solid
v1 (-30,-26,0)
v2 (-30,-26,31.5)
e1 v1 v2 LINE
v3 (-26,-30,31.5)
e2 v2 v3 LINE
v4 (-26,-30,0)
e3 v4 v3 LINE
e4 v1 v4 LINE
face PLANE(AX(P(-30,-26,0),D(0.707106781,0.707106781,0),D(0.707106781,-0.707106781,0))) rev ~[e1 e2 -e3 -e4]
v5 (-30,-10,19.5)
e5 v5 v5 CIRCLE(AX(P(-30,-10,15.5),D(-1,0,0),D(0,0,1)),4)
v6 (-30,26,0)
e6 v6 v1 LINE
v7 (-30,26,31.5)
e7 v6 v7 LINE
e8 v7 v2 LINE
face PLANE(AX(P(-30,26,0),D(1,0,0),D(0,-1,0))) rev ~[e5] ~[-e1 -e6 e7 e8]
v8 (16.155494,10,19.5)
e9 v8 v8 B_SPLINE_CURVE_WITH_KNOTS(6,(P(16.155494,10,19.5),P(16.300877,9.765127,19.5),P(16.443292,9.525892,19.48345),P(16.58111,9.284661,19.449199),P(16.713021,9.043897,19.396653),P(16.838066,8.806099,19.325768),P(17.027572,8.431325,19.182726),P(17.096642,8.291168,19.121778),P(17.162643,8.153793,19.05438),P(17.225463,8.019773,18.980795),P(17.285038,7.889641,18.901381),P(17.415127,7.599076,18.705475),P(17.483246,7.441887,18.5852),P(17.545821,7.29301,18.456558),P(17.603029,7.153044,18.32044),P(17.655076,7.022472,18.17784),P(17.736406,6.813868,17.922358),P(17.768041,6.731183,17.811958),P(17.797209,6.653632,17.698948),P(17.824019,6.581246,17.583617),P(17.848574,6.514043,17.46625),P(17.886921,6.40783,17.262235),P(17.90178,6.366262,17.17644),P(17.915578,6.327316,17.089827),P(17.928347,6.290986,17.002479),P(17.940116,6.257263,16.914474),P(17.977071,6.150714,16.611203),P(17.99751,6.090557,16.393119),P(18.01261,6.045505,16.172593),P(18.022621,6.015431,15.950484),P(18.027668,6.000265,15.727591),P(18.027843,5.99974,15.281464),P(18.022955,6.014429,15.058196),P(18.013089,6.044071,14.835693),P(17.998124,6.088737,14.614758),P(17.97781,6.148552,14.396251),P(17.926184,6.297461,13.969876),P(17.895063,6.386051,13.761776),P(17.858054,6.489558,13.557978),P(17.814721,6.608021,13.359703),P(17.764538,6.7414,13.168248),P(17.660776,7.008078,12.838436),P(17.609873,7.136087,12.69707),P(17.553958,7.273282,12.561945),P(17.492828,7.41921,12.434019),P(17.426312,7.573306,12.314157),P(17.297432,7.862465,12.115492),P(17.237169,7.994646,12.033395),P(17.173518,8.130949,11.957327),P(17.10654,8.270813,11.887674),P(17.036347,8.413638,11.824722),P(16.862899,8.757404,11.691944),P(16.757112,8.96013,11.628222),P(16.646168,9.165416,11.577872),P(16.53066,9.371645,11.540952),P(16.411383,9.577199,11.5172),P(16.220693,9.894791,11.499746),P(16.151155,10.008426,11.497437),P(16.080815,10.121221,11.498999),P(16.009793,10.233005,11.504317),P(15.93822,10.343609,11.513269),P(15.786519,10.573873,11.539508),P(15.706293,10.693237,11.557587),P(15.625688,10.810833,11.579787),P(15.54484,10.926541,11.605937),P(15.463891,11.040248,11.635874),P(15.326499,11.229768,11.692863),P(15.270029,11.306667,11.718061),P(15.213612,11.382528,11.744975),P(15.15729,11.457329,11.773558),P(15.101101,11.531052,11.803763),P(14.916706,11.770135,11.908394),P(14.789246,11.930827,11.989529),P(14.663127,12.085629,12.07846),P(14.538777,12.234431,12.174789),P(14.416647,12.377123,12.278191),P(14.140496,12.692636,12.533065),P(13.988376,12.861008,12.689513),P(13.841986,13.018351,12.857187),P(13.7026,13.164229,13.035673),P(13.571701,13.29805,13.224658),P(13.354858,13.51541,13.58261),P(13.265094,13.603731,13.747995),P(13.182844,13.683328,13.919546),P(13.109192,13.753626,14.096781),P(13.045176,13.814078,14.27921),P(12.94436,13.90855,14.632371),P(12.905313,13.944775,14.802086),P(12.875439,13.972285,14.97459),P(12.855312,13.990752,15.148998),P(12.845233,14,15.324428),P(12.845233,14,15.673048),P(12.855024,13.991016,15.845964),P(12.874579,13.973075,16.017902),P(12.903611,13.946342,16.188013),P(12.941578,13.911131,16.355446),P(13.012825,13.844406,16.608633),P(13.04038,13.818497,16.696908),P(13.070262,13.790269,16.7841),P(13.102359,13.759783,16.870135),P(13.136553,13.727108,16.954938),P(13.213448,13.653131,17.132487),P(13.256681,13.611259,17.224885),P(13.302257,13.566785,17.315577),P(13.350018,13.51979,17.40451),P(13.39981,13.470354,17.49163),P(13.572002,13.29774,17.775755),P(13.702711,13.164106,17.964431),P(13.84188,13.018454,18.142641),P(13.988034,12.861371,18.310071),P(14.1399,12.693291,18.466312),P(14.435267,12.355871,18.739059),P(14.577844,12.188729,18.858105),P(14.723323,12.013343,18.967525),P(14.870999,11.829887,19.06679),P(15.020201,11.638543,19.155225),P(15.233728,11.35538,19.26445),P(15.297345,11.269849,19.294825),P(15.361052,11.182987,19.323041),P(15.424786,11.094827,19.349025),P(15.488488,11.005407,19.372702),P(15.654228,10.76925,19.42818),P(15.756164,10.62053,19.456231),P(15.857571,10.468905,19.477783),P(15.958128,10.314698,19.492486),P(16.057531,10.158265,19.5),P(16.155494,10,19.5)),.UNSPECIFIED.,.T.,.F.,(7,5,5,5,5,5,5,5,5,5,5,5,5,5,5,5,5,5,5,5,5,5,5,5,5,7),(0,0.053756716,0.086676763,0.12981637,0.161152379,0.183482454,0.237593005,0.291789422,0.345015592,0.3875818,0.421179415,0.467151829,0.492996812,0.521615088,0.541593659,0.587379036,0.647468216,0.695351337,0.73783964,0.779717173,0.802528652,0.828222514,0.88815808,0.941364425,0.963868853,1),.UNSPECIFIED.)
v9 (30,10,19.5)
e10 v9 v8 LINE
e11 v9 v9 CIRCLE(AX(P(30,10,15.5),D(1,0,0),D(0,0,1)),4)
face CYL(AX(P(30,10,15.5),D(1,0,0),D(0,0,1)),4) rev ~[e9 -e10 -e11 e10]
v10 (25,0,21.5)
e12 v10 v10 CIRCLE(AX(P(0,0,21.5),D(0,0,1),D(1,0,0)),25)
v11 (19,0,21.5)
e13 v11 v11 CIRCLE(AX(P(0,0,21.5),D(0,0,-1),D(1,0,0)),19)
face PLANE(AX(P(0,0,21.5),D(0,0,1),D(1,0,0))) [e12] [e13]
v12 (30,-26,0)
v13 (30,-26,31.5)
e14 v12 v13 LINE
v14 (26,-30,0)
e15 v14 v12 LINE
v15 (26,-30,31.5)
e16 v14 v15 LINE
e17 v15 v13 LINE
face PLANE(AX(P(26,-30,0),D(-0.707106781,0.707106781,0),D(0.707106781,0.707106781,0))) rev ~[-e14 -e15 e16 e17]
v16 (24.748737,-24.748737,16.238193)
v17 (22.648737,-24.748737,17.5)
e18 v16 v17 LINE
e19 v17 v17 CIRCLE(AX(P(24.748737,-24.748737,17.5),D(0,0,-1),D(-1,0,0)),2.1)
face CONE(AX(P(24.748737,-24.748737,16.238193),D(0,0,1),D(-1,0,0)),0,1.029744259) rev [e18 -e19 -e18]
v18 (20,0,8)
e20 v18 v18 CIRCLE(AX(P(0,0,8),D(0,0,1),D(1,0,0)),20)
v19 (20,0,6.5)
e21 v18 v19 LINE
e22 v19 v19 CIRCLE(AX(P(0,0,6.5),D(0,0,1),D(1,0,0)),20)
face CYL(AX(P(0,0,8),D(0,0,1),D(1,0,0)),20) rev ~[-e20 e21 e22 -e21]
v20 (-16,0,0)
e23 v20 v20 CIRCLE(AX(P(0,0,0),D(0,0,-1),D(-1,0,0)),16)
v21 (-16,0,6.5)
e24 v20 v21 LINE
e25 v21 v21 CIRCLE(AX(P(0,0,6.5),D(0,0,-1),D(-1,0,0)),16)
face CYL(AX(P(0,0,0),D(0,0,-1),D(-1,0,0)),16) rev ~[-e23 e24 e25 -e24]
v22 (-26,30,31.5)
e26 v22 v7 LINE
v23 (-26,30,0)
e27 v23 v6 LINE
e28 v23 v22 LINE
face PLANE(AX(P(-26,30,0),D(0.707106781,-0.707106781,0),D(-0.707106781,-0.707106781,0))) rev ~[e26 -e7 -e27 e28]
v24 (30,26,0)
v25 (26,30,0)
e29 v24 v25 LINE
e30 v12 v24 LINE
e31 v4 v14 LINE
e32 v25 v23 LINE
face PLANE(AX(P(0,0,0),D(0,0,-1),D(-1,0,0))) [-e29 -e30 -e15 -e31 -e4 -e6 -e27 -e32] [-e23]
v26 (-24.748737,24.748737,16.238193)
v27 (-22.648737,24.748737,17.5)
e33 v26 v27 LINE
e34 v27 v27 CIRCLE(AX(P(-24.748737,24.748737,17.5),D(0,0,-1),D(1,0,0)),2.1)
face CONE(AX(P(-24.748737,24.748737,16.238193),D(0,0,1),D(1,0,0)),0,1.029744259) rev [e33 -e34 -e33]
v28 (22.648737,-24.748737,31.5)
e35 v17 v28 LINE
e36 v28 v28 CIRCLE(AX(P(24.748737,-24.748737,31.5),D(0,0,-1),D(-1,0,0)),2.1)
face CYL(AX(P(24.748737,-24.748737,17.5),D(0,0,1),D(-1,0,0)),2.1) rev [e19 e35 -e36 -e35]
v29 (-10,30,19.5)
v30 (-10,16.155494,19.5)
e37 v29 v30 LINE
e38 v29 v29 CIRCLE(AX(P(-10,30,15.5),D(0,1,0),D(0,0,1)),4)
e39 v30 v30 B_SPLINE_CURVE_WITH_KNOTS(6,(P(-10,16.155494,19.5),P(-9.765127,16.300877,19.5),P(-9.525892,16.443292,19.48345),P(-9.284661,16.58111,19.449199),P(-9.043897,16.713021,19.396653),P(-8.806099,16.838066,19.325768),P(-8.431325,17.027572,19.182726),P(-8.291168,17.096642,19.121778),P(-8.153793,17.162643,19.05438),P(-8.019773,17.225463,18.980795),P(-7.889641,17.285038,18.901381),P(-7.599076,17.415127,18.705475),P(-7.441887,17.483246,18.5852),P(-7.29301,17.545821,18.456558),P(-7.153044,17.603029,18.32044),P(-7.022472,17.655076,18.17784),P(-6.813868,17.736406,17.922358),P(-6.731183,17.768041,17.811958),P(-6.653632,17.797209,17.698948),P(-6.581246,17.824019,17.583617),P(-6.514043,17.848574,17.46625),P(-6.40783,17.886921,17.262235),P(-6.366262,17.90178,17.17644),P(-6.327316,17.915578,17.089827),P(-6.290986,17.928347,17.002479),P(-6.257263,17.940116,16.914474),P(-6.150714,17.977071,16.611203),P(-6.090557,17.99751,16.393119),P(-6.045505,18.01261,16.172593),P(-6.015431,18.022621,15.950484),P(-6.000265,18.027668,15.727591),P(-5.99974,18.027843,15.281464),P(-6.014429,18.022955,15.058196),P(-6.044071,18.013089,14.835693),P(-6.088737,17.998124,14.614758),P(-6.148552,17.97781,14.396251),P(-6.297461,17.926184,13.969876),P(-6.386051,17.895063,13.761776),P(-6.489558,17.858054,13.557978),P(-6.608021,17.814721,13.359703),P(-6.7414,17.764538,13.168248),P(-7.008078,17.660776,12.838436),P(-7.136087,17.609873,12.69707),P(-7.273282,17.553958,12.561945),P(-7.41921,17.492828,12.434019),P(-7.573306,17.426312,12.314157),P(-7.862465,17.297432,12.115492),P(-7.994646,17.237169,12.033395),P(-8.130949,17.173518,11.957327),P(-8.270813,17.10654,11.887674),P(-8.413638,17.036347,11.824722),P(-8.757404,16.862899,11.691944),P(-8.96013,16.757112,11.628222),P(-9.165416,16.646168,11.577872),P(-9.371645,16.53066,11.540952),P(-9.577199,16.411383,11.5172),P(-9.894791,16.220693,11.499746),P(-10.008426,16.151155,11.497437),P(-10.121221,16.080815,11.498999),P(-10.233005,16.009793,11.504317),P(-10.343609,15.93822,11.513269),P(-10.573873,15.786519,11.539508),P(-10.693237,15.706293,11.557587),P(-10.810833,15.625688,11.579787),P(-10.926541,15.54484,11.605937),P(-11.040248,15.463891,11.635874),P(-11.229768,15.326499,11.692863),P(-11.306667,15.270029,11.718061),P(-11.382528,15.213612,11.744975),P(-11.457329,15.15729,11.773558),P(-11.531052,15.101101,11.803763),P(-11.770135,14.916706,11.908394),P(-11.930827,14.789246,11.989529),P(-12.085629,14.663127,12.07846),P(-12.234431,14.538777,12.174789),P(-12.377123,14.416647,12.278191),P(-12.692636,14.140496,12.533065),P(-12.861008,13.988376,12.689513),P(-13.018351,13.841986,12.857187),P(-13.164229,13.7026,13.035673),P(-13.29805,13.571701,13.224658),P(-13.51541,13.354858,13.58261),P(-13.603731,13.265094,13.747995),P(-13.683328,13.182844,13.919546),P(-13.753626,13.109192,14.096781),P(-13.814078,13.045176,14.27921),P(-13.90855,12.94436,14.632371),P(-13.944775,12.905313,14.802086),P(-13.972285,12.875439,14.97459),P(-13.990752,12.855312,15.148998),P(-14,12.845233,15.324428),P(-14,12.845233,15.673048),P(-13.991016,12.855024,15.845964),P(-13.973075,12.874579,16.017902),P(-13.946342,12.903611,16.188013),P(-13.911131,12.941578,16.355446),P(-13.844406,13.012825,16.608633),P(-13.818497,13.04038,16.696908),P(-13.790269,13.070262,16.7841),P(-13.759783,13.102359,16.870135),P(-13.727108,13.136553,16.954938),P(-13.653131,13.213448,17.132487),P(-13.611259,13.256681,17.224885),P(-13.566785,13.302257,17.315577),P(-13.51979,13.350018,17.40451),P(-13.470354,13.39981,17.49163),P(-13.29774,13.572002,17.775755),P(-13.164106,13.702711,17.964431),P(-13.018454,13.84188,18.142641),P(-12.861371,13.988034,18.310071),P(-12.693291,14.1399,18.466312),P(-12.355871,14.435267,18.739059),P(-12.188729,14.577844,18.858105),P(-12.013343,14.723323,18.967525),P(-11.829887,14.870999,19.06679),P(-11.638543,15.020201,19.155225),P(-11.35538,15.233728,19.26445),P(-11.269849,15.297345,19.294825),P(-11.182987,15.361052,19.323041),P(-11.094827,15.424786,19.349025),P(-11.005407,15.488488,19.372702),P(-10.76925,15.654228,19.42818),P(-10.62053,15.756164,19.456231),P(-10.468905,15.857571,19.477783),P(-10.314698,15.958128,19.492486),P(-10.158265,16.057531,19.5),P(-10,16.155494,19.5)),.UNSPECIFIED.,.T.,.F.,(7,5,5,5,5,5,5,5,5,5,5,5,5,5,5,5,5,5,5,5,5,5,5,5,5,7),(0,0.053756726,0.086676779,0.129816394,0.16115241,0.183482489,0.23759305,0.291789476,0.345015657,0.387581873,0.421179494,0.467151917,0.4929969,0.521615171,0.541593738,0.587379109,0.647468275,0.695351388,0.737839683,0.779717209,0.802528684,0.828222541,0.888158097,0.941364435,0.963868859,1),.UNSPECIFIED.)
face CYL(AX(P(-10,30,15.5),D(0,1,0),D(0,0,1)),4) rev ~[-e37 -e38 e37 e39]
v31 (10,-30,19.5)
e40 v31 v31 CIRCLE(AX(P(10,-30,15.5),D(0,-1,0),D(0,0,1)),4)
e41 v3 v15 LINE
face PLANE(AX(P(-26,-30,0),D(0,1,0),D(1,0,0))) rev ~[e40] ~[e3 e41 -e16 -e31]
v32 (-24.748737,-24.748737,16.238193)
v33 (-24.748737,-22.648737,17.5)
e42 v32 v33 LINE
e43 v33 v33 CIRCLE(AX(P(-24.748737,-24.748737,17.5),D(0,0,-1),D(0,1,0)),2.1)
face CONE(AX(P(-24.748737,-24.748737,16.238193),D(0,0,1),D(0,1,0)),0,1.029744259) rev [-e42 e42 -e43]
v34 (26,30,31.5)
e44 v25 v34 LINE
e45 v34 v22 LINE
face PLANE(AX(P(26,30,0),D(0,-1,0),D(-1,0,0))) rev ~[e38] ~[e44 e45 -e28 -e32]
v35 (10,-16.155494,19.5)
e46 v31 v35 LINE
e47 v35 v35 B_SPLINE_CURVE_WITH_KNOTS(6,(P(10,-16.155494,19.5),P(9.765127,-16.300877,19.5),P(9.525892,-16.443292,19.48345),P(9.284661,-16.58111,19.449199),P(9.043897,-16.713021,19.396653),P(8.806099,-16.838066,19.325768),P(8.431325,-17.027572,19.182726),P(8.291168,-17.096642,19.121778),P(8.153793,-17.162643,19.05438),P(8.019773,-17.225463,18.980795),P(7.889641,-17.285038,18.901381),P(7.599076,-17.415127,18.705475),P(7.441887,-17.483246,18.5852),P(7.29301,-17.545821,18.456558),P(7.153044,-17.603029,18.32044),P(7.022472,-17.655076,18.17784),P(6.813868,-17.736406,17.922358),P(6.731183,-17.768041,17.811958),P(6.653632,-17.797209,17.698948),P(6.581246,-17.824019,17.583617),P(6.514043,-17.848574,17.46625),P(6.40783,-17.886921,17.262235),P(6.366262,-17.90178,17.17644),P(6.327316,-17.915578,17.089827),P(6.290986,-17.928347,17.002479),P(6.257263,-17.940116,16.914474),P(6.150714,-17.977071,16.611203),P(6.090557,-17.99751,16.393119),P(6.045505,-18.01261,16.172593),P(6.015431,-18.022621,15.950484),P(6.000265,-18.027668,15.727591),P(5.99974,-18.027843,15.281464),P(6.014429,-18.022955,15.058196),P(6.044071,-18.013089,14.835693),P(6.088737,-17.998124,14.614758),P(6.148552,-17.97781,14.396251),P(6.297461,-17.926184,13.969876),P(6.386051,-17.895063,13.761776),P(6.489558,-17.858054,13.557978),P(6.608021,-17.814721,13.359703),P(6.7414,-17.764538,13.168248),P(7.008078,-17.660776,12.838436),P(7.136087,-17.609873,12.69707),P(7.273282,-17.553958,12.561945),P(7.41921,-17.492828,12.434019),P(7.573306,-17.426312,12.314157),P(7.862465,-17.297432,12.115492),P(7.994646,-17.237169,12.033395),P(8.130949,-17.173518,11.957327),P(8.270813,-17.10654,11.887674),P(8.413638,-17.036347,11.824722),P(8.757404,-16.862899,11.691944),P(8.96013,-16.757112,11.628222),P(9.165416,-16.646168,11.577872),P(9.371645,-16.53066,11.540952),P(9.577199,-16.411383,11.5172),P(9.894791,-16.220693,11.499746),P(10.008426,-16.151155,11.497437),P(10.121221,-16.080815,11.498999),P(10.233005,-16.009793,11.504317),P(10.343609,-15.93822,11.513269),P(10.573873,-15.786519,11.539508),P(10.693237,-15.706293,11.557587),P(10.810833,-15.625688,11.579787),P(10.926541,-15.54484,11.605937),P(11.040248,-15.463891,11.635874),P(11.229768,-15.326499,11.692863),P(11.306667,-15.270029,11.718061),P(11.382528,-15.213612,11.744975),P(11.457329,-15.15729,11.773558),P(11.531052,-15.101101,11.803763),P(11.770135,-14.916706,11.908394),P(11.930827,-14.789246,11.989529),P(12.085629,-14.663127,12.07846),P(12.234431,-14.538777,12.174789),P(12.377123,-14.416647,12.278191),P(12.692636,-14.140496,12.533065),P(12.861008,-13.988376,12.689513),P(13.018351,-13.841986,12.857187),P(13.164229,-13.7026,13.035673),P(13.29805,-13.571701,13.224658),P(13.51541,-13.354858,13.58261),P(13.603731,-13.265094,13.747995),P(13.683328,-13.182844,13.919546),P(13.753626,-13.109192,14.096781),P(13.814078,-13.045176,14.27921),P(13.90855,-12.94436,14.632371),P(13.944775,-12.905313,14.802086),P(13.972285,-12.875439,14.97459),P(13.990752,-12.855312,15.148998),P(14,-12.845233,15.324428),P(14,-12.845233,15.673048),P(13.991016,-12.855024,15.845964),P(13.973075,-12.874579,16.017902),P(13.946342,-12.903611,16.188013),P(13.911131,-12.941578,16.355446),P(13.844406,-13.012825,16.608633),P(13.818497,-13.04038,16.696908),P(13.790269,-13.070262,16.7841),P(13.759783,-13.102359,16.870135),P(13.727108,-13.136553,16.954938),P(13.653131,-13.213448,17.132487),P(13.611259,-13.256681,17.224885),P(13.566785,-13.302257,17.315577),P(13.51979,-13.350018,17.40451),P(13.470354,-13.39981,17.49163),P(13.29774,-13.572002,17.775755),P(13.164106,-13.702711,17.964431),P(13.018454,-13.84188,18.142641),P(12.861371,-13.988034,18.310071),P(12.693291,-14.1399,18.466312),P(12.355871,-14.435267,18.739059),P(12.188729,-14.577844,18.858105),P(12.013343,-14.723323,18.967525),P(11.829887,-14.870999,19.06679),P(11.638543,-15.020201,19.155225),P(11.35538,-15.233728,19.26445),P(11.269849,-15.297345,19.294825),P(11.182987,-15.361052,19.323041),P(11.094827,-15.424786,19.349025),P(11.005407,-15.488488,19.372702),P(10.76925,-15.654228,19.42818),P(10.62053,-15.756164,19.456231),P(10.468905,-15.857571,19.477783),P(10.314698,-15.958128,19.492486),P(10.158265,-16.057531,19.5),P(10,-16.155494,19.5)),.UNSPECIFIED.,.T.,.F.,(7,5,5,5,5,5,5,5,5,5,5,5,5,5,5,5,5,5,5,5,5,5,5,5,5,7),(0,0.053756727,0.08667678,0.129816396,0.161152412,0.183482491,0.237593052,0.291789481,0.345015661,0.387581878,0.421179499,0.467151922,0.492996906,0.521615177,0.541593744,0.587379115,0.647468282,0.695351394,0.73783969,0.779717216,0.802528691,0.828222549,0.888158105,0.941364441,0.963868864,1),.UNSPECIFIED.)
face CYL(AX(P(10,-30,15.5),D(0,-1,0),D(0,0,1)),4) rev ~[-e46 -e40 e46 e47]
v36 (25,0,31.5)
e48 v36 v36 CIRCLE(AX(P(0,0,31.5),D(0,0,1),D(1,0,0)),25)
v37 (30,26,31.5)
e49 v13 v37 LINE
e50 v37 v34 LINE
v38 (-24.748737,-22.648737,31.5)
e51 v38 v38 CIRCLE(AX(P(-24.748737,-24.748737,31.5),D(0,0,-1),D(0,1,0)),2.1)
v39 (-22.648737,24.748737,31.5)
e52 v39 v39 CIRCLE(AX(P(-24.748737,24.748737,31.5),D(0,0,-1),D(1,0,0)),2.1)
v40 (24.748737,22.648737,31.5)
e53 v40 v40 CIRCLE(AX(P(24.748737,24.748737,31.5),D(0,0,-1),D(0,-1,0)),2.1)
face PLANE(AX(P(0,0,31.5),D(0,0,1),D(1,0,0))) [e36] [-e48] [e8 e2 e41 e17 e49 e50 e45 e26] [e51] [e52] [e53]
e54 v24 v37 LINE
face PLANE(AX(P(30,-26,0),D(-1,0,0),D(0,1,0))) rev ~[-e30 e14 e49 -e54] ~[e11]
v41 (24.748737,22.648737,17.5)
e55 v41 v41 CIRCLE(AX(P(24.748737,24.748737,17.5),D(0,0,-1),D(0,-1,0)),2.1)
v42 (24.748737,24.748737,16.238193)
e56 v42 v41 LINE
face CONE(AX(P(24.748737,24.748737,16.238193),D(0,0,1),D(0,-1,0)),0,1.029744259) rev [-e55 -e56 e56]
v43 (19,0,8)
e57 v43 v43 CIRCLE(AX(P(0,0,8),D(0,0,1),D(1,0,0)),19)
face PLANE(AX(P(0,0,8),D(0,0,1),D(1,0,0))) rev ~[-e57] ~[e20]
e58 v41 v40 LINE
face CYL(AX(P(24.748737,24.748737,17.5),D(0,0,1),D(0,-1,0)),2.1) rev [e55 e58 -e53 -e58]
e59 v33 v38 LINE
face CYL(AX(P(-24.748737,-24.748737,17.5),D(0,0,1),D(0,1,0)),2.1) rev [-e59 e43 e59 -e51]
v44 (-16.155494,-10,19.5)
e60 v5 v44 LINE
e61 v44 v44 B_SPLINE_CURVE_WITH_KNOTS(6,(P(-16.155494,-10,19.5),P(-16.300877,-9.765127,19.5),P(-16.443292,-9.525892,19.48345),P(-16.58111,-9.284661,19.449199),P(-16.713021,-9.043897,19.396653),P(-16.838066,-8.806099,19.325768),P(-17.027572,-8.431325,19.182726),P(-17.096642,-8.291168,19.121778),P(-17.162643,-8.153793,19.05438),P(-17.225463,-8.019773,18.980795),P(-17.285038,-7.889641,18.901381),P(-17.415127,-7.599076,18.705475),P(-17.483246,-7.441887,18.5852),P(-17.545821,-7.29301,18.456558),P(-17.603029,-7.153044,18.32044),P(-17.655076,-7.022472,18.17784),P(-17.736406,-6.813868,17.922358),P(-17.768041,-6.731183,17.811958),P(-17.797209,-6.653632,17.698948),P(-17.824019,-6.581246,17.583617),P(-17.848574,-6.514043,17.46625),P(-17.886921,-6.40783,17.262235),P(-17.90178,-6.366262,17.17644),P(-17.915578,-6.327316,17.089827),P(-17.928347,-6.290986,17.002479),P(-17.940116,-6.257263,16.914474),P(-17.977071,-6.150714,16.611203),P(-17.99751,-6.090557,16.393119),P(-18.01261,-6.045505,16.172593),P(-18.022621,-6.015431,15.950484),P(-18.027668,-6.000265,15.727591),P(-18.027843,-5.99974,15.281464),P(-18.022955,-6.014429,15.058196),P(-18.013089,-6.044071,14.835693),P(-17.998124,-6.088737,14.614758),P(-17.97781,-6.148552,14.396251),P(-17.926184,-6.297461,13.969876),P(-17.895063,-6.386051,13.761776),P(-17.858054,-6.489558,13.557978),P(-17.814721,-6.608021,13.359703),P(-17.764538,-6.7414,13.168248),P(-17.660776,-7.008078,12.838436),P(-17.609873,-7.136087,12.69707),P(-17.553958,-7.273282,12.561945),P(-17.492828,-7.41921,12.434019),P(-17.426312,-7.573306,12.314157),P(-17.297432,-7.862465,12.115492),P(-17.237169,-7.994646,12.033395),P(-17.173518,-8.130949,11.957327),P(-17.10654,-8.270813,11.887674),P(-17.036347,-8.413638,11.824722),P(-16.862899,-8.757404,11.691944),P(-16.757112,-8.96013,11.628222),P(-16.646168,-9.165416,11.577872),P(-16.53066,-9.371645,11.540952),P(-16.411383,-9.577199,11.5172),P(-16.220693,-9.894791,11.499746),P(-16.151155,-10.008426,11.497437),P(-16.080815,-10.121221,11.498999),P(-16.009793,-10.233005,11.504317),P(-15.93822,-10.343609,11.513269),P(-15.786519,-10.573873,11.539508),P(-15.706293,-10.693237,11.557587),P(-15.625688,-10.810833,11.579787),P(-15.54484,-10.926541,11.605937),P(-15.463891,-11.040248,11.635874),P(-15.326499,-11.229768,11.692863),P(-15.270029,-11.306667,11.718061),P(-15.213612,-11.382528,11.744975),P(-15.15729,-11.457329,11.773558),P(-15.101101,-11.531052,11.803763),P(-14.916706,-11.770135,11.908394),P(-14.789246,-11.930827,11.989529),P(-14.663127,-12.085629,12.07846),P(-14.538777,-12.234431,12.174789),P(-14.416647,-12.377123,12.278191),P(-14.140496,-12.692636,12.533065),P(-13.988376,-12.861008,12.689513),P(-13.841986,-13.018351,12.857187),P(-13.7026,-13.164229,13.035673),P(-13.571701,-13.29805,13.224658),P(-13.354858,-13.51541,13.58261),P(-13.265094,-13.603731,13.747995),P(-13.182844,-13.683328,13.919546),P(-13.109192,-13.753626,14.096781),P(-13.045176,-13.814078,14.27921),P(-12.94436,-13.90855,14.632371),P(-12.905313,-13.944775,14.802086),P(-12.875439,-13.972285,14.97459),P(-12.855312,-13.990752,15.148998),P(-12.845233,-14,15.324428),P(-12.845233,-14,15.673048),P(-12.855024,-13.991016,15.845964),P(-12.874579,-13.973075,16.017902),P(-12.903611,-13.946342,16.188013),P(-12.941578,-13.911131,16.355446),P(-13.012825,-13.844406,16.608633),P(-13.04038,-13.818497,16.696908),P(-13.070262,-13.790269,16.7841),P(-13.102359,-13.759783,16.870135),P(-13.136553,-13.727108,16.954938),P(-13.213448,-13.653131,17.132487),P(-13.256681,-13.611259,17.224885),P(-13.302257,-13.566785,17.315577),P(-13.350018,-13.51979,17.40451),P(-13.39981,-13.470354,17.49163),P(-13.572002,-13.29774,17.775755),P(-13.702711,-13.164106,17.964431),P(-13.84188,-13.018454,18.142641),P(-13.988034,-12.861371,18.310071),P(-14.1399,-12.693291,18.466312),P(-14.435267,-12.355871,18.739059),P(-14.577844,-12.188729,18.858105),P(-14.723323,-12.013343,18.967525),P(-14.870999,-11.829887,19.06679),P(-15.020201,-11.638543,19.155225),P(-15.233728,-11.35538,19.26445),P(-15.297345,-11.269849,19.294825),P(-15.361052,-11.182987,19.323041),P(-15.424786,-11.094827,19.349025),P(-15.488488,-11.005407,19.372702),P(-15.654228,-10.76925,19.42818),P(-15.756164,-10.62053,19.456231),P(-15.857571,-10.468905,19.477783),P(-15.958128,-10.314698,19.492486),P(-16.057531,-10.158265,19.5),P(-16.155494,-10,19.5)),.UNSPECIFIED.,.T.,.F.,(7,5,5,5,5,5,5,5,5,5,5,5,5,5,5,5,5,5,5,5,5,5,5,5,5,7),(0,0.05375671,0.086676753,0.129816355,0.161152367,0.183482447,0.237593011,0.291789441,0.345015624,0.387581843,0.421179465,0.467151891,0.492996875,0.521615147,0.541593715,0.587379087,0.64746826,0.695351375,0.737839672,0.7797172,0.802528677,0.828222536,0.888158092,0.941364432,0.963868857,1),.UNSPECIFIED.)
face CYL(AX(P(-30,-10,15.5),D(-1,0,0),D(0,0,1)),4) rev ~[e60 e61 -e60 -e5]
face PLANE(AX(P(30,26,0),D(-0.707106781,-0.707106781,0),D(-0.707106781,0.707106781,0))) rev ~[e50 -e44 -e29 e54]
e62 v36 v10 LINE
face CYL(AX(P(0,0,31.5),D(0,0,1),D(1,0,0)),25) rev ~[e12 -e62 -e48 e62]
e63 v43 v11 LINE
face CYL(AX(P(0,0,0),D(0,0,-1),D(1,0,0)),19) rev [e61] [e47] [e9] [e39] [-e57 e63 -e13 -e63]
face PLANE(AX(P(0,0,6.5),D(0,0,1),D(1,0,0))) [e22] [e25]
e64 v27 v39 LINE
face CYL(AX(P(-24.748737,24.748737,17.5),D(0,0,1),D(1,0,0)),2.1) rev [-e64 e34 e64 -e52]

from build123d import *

# Parameters (mm, degrees)
SKETCH_1_R               = 19
EXTRUDE_1_DEPTH          = 31.5
SKETCH_2_R               = 25
CUT_EXTRUDE_1_DEPTH      = 10
PATTERN_CIRCULAR_1_COUNT = 4
SKETCH_6_R               = 19
SKETCH_6_R_2             = 16
EXTRUDE_2_DEPTH          = 8
SKETCH_7_R               = 20
CUT_EXTRUDE_2_DEPTH      = 1.5
SKETCH_9_R               = 4
CUT_EXTRUDE_3_DEPTH      = 20
PATTERN_CIRCULAR_2_COUNT = 4


with BuildPart() as part:
    # 草图1 → 凸台-拉伸1 (new body)
    with BuildSketch(Plane.XY):
        Polygon((30, 26), (26, 30), (-26, 30), (-30, 26), (-30, -26), (-26, -30), (26, -30), (30, -26), align=None)
        Circle(SKETCH_1_R, mode=Mode.SUBTRACT)
    extrude(amount=EXTRUDE_1_DEPTH)

    # 草图2 → 切除-拉伸1 (cut)
    with BuildSketch(Plane.XY.offset(31.5)):
        Circle(SKETCH_2_R)
    extrude(amount=-CUT_EXTRUDE_1_DEPTH, mode=Mode.SUBTRACT)

    # 草图4 → M5 螺纹孔1 (revolve, cut)
    with BuildSketch(Plane(origin=(24.748737342, 24.748737342, 31.5), x_dir=(0, -1, 0), z_dir=(1, 0, 0))):
        Polygon((0, 0), (0, 15.2618073), (2.1, 14), (2.1, 0), align=None)
    hole_wizard_m5_1 = revolve(axis=Axis((24.748737342, 24.748737342, 37.85), (0, 0, -1)), mode=Mode.SUBTRACT)

    # 阵列(圆周)1: M5 螺纹孔1 ×4 about axis
    pattern_circular_1_axis = Axis((0, 0, 0), (0, 0, 1))
    for i in range(1, PATTERN_CIRCULAR_1_COUNT):
        add(hole_wizard_m5_1.rotate(pattern_circular_1_axis, i * 360 / PATTERN_CIRCULAR_1_COUNT), mode=Mode.SUBTRACT)

    # 草图6 → 凸台-拉伸2 (add)
    with BuildSketch(Plane(origin=(0, 0, 0), x_dir=(-1, 0, 0), z_dir=(0, 0, -1))):
        Circle(SKETCH_6_R)
        Circle(SKETCH_6_R_2, mode=Mode.SUBTRACT)
    extrude(amount=-EXTRUDE_2_DEPTH)

    # 草图7 → 切除-拉伸2 (cut)
    with BuildSketch(Plane.XY.offset(8)):
        Circle(SKETCH_7_R)
    extrude(amount=-CUT_EXTRUDE_2_DEPTH, mode=Mode.SUBTRACT)

    # 草图9 → 切除-拉伸3 (cut)
    with BuildSketch(Plane(origin=(0, 30, 0), x_dir=(1, 0, 0), z_dir=(0, 1, 0))):
        with Locations(Location((-10, -15.5, 0), (0, 0, 270))):
            Circle(SKETCH_9_R)
    cut_extrude_3 = extrude(amount=-CUT_EXTRUDE_3_DEPTH, mode=Mode.SUBTRACT)

    # 阵列(圆周)2: 切除-拉伸3 ×4 about axis
    pattern_circular_2_axis = Axis((0, 0, 31.5), (0, 0, -1))
    for i in range(1, PATTERN_CIRCULAR_2_COUNT):
        add(cut_extrude_3.rotate(pattern_circular_2_axis, i * 360 / PATTERN_CIRCULAR_2_COUNT), mode=Mode.SUBTRACT)


solid = part.part
